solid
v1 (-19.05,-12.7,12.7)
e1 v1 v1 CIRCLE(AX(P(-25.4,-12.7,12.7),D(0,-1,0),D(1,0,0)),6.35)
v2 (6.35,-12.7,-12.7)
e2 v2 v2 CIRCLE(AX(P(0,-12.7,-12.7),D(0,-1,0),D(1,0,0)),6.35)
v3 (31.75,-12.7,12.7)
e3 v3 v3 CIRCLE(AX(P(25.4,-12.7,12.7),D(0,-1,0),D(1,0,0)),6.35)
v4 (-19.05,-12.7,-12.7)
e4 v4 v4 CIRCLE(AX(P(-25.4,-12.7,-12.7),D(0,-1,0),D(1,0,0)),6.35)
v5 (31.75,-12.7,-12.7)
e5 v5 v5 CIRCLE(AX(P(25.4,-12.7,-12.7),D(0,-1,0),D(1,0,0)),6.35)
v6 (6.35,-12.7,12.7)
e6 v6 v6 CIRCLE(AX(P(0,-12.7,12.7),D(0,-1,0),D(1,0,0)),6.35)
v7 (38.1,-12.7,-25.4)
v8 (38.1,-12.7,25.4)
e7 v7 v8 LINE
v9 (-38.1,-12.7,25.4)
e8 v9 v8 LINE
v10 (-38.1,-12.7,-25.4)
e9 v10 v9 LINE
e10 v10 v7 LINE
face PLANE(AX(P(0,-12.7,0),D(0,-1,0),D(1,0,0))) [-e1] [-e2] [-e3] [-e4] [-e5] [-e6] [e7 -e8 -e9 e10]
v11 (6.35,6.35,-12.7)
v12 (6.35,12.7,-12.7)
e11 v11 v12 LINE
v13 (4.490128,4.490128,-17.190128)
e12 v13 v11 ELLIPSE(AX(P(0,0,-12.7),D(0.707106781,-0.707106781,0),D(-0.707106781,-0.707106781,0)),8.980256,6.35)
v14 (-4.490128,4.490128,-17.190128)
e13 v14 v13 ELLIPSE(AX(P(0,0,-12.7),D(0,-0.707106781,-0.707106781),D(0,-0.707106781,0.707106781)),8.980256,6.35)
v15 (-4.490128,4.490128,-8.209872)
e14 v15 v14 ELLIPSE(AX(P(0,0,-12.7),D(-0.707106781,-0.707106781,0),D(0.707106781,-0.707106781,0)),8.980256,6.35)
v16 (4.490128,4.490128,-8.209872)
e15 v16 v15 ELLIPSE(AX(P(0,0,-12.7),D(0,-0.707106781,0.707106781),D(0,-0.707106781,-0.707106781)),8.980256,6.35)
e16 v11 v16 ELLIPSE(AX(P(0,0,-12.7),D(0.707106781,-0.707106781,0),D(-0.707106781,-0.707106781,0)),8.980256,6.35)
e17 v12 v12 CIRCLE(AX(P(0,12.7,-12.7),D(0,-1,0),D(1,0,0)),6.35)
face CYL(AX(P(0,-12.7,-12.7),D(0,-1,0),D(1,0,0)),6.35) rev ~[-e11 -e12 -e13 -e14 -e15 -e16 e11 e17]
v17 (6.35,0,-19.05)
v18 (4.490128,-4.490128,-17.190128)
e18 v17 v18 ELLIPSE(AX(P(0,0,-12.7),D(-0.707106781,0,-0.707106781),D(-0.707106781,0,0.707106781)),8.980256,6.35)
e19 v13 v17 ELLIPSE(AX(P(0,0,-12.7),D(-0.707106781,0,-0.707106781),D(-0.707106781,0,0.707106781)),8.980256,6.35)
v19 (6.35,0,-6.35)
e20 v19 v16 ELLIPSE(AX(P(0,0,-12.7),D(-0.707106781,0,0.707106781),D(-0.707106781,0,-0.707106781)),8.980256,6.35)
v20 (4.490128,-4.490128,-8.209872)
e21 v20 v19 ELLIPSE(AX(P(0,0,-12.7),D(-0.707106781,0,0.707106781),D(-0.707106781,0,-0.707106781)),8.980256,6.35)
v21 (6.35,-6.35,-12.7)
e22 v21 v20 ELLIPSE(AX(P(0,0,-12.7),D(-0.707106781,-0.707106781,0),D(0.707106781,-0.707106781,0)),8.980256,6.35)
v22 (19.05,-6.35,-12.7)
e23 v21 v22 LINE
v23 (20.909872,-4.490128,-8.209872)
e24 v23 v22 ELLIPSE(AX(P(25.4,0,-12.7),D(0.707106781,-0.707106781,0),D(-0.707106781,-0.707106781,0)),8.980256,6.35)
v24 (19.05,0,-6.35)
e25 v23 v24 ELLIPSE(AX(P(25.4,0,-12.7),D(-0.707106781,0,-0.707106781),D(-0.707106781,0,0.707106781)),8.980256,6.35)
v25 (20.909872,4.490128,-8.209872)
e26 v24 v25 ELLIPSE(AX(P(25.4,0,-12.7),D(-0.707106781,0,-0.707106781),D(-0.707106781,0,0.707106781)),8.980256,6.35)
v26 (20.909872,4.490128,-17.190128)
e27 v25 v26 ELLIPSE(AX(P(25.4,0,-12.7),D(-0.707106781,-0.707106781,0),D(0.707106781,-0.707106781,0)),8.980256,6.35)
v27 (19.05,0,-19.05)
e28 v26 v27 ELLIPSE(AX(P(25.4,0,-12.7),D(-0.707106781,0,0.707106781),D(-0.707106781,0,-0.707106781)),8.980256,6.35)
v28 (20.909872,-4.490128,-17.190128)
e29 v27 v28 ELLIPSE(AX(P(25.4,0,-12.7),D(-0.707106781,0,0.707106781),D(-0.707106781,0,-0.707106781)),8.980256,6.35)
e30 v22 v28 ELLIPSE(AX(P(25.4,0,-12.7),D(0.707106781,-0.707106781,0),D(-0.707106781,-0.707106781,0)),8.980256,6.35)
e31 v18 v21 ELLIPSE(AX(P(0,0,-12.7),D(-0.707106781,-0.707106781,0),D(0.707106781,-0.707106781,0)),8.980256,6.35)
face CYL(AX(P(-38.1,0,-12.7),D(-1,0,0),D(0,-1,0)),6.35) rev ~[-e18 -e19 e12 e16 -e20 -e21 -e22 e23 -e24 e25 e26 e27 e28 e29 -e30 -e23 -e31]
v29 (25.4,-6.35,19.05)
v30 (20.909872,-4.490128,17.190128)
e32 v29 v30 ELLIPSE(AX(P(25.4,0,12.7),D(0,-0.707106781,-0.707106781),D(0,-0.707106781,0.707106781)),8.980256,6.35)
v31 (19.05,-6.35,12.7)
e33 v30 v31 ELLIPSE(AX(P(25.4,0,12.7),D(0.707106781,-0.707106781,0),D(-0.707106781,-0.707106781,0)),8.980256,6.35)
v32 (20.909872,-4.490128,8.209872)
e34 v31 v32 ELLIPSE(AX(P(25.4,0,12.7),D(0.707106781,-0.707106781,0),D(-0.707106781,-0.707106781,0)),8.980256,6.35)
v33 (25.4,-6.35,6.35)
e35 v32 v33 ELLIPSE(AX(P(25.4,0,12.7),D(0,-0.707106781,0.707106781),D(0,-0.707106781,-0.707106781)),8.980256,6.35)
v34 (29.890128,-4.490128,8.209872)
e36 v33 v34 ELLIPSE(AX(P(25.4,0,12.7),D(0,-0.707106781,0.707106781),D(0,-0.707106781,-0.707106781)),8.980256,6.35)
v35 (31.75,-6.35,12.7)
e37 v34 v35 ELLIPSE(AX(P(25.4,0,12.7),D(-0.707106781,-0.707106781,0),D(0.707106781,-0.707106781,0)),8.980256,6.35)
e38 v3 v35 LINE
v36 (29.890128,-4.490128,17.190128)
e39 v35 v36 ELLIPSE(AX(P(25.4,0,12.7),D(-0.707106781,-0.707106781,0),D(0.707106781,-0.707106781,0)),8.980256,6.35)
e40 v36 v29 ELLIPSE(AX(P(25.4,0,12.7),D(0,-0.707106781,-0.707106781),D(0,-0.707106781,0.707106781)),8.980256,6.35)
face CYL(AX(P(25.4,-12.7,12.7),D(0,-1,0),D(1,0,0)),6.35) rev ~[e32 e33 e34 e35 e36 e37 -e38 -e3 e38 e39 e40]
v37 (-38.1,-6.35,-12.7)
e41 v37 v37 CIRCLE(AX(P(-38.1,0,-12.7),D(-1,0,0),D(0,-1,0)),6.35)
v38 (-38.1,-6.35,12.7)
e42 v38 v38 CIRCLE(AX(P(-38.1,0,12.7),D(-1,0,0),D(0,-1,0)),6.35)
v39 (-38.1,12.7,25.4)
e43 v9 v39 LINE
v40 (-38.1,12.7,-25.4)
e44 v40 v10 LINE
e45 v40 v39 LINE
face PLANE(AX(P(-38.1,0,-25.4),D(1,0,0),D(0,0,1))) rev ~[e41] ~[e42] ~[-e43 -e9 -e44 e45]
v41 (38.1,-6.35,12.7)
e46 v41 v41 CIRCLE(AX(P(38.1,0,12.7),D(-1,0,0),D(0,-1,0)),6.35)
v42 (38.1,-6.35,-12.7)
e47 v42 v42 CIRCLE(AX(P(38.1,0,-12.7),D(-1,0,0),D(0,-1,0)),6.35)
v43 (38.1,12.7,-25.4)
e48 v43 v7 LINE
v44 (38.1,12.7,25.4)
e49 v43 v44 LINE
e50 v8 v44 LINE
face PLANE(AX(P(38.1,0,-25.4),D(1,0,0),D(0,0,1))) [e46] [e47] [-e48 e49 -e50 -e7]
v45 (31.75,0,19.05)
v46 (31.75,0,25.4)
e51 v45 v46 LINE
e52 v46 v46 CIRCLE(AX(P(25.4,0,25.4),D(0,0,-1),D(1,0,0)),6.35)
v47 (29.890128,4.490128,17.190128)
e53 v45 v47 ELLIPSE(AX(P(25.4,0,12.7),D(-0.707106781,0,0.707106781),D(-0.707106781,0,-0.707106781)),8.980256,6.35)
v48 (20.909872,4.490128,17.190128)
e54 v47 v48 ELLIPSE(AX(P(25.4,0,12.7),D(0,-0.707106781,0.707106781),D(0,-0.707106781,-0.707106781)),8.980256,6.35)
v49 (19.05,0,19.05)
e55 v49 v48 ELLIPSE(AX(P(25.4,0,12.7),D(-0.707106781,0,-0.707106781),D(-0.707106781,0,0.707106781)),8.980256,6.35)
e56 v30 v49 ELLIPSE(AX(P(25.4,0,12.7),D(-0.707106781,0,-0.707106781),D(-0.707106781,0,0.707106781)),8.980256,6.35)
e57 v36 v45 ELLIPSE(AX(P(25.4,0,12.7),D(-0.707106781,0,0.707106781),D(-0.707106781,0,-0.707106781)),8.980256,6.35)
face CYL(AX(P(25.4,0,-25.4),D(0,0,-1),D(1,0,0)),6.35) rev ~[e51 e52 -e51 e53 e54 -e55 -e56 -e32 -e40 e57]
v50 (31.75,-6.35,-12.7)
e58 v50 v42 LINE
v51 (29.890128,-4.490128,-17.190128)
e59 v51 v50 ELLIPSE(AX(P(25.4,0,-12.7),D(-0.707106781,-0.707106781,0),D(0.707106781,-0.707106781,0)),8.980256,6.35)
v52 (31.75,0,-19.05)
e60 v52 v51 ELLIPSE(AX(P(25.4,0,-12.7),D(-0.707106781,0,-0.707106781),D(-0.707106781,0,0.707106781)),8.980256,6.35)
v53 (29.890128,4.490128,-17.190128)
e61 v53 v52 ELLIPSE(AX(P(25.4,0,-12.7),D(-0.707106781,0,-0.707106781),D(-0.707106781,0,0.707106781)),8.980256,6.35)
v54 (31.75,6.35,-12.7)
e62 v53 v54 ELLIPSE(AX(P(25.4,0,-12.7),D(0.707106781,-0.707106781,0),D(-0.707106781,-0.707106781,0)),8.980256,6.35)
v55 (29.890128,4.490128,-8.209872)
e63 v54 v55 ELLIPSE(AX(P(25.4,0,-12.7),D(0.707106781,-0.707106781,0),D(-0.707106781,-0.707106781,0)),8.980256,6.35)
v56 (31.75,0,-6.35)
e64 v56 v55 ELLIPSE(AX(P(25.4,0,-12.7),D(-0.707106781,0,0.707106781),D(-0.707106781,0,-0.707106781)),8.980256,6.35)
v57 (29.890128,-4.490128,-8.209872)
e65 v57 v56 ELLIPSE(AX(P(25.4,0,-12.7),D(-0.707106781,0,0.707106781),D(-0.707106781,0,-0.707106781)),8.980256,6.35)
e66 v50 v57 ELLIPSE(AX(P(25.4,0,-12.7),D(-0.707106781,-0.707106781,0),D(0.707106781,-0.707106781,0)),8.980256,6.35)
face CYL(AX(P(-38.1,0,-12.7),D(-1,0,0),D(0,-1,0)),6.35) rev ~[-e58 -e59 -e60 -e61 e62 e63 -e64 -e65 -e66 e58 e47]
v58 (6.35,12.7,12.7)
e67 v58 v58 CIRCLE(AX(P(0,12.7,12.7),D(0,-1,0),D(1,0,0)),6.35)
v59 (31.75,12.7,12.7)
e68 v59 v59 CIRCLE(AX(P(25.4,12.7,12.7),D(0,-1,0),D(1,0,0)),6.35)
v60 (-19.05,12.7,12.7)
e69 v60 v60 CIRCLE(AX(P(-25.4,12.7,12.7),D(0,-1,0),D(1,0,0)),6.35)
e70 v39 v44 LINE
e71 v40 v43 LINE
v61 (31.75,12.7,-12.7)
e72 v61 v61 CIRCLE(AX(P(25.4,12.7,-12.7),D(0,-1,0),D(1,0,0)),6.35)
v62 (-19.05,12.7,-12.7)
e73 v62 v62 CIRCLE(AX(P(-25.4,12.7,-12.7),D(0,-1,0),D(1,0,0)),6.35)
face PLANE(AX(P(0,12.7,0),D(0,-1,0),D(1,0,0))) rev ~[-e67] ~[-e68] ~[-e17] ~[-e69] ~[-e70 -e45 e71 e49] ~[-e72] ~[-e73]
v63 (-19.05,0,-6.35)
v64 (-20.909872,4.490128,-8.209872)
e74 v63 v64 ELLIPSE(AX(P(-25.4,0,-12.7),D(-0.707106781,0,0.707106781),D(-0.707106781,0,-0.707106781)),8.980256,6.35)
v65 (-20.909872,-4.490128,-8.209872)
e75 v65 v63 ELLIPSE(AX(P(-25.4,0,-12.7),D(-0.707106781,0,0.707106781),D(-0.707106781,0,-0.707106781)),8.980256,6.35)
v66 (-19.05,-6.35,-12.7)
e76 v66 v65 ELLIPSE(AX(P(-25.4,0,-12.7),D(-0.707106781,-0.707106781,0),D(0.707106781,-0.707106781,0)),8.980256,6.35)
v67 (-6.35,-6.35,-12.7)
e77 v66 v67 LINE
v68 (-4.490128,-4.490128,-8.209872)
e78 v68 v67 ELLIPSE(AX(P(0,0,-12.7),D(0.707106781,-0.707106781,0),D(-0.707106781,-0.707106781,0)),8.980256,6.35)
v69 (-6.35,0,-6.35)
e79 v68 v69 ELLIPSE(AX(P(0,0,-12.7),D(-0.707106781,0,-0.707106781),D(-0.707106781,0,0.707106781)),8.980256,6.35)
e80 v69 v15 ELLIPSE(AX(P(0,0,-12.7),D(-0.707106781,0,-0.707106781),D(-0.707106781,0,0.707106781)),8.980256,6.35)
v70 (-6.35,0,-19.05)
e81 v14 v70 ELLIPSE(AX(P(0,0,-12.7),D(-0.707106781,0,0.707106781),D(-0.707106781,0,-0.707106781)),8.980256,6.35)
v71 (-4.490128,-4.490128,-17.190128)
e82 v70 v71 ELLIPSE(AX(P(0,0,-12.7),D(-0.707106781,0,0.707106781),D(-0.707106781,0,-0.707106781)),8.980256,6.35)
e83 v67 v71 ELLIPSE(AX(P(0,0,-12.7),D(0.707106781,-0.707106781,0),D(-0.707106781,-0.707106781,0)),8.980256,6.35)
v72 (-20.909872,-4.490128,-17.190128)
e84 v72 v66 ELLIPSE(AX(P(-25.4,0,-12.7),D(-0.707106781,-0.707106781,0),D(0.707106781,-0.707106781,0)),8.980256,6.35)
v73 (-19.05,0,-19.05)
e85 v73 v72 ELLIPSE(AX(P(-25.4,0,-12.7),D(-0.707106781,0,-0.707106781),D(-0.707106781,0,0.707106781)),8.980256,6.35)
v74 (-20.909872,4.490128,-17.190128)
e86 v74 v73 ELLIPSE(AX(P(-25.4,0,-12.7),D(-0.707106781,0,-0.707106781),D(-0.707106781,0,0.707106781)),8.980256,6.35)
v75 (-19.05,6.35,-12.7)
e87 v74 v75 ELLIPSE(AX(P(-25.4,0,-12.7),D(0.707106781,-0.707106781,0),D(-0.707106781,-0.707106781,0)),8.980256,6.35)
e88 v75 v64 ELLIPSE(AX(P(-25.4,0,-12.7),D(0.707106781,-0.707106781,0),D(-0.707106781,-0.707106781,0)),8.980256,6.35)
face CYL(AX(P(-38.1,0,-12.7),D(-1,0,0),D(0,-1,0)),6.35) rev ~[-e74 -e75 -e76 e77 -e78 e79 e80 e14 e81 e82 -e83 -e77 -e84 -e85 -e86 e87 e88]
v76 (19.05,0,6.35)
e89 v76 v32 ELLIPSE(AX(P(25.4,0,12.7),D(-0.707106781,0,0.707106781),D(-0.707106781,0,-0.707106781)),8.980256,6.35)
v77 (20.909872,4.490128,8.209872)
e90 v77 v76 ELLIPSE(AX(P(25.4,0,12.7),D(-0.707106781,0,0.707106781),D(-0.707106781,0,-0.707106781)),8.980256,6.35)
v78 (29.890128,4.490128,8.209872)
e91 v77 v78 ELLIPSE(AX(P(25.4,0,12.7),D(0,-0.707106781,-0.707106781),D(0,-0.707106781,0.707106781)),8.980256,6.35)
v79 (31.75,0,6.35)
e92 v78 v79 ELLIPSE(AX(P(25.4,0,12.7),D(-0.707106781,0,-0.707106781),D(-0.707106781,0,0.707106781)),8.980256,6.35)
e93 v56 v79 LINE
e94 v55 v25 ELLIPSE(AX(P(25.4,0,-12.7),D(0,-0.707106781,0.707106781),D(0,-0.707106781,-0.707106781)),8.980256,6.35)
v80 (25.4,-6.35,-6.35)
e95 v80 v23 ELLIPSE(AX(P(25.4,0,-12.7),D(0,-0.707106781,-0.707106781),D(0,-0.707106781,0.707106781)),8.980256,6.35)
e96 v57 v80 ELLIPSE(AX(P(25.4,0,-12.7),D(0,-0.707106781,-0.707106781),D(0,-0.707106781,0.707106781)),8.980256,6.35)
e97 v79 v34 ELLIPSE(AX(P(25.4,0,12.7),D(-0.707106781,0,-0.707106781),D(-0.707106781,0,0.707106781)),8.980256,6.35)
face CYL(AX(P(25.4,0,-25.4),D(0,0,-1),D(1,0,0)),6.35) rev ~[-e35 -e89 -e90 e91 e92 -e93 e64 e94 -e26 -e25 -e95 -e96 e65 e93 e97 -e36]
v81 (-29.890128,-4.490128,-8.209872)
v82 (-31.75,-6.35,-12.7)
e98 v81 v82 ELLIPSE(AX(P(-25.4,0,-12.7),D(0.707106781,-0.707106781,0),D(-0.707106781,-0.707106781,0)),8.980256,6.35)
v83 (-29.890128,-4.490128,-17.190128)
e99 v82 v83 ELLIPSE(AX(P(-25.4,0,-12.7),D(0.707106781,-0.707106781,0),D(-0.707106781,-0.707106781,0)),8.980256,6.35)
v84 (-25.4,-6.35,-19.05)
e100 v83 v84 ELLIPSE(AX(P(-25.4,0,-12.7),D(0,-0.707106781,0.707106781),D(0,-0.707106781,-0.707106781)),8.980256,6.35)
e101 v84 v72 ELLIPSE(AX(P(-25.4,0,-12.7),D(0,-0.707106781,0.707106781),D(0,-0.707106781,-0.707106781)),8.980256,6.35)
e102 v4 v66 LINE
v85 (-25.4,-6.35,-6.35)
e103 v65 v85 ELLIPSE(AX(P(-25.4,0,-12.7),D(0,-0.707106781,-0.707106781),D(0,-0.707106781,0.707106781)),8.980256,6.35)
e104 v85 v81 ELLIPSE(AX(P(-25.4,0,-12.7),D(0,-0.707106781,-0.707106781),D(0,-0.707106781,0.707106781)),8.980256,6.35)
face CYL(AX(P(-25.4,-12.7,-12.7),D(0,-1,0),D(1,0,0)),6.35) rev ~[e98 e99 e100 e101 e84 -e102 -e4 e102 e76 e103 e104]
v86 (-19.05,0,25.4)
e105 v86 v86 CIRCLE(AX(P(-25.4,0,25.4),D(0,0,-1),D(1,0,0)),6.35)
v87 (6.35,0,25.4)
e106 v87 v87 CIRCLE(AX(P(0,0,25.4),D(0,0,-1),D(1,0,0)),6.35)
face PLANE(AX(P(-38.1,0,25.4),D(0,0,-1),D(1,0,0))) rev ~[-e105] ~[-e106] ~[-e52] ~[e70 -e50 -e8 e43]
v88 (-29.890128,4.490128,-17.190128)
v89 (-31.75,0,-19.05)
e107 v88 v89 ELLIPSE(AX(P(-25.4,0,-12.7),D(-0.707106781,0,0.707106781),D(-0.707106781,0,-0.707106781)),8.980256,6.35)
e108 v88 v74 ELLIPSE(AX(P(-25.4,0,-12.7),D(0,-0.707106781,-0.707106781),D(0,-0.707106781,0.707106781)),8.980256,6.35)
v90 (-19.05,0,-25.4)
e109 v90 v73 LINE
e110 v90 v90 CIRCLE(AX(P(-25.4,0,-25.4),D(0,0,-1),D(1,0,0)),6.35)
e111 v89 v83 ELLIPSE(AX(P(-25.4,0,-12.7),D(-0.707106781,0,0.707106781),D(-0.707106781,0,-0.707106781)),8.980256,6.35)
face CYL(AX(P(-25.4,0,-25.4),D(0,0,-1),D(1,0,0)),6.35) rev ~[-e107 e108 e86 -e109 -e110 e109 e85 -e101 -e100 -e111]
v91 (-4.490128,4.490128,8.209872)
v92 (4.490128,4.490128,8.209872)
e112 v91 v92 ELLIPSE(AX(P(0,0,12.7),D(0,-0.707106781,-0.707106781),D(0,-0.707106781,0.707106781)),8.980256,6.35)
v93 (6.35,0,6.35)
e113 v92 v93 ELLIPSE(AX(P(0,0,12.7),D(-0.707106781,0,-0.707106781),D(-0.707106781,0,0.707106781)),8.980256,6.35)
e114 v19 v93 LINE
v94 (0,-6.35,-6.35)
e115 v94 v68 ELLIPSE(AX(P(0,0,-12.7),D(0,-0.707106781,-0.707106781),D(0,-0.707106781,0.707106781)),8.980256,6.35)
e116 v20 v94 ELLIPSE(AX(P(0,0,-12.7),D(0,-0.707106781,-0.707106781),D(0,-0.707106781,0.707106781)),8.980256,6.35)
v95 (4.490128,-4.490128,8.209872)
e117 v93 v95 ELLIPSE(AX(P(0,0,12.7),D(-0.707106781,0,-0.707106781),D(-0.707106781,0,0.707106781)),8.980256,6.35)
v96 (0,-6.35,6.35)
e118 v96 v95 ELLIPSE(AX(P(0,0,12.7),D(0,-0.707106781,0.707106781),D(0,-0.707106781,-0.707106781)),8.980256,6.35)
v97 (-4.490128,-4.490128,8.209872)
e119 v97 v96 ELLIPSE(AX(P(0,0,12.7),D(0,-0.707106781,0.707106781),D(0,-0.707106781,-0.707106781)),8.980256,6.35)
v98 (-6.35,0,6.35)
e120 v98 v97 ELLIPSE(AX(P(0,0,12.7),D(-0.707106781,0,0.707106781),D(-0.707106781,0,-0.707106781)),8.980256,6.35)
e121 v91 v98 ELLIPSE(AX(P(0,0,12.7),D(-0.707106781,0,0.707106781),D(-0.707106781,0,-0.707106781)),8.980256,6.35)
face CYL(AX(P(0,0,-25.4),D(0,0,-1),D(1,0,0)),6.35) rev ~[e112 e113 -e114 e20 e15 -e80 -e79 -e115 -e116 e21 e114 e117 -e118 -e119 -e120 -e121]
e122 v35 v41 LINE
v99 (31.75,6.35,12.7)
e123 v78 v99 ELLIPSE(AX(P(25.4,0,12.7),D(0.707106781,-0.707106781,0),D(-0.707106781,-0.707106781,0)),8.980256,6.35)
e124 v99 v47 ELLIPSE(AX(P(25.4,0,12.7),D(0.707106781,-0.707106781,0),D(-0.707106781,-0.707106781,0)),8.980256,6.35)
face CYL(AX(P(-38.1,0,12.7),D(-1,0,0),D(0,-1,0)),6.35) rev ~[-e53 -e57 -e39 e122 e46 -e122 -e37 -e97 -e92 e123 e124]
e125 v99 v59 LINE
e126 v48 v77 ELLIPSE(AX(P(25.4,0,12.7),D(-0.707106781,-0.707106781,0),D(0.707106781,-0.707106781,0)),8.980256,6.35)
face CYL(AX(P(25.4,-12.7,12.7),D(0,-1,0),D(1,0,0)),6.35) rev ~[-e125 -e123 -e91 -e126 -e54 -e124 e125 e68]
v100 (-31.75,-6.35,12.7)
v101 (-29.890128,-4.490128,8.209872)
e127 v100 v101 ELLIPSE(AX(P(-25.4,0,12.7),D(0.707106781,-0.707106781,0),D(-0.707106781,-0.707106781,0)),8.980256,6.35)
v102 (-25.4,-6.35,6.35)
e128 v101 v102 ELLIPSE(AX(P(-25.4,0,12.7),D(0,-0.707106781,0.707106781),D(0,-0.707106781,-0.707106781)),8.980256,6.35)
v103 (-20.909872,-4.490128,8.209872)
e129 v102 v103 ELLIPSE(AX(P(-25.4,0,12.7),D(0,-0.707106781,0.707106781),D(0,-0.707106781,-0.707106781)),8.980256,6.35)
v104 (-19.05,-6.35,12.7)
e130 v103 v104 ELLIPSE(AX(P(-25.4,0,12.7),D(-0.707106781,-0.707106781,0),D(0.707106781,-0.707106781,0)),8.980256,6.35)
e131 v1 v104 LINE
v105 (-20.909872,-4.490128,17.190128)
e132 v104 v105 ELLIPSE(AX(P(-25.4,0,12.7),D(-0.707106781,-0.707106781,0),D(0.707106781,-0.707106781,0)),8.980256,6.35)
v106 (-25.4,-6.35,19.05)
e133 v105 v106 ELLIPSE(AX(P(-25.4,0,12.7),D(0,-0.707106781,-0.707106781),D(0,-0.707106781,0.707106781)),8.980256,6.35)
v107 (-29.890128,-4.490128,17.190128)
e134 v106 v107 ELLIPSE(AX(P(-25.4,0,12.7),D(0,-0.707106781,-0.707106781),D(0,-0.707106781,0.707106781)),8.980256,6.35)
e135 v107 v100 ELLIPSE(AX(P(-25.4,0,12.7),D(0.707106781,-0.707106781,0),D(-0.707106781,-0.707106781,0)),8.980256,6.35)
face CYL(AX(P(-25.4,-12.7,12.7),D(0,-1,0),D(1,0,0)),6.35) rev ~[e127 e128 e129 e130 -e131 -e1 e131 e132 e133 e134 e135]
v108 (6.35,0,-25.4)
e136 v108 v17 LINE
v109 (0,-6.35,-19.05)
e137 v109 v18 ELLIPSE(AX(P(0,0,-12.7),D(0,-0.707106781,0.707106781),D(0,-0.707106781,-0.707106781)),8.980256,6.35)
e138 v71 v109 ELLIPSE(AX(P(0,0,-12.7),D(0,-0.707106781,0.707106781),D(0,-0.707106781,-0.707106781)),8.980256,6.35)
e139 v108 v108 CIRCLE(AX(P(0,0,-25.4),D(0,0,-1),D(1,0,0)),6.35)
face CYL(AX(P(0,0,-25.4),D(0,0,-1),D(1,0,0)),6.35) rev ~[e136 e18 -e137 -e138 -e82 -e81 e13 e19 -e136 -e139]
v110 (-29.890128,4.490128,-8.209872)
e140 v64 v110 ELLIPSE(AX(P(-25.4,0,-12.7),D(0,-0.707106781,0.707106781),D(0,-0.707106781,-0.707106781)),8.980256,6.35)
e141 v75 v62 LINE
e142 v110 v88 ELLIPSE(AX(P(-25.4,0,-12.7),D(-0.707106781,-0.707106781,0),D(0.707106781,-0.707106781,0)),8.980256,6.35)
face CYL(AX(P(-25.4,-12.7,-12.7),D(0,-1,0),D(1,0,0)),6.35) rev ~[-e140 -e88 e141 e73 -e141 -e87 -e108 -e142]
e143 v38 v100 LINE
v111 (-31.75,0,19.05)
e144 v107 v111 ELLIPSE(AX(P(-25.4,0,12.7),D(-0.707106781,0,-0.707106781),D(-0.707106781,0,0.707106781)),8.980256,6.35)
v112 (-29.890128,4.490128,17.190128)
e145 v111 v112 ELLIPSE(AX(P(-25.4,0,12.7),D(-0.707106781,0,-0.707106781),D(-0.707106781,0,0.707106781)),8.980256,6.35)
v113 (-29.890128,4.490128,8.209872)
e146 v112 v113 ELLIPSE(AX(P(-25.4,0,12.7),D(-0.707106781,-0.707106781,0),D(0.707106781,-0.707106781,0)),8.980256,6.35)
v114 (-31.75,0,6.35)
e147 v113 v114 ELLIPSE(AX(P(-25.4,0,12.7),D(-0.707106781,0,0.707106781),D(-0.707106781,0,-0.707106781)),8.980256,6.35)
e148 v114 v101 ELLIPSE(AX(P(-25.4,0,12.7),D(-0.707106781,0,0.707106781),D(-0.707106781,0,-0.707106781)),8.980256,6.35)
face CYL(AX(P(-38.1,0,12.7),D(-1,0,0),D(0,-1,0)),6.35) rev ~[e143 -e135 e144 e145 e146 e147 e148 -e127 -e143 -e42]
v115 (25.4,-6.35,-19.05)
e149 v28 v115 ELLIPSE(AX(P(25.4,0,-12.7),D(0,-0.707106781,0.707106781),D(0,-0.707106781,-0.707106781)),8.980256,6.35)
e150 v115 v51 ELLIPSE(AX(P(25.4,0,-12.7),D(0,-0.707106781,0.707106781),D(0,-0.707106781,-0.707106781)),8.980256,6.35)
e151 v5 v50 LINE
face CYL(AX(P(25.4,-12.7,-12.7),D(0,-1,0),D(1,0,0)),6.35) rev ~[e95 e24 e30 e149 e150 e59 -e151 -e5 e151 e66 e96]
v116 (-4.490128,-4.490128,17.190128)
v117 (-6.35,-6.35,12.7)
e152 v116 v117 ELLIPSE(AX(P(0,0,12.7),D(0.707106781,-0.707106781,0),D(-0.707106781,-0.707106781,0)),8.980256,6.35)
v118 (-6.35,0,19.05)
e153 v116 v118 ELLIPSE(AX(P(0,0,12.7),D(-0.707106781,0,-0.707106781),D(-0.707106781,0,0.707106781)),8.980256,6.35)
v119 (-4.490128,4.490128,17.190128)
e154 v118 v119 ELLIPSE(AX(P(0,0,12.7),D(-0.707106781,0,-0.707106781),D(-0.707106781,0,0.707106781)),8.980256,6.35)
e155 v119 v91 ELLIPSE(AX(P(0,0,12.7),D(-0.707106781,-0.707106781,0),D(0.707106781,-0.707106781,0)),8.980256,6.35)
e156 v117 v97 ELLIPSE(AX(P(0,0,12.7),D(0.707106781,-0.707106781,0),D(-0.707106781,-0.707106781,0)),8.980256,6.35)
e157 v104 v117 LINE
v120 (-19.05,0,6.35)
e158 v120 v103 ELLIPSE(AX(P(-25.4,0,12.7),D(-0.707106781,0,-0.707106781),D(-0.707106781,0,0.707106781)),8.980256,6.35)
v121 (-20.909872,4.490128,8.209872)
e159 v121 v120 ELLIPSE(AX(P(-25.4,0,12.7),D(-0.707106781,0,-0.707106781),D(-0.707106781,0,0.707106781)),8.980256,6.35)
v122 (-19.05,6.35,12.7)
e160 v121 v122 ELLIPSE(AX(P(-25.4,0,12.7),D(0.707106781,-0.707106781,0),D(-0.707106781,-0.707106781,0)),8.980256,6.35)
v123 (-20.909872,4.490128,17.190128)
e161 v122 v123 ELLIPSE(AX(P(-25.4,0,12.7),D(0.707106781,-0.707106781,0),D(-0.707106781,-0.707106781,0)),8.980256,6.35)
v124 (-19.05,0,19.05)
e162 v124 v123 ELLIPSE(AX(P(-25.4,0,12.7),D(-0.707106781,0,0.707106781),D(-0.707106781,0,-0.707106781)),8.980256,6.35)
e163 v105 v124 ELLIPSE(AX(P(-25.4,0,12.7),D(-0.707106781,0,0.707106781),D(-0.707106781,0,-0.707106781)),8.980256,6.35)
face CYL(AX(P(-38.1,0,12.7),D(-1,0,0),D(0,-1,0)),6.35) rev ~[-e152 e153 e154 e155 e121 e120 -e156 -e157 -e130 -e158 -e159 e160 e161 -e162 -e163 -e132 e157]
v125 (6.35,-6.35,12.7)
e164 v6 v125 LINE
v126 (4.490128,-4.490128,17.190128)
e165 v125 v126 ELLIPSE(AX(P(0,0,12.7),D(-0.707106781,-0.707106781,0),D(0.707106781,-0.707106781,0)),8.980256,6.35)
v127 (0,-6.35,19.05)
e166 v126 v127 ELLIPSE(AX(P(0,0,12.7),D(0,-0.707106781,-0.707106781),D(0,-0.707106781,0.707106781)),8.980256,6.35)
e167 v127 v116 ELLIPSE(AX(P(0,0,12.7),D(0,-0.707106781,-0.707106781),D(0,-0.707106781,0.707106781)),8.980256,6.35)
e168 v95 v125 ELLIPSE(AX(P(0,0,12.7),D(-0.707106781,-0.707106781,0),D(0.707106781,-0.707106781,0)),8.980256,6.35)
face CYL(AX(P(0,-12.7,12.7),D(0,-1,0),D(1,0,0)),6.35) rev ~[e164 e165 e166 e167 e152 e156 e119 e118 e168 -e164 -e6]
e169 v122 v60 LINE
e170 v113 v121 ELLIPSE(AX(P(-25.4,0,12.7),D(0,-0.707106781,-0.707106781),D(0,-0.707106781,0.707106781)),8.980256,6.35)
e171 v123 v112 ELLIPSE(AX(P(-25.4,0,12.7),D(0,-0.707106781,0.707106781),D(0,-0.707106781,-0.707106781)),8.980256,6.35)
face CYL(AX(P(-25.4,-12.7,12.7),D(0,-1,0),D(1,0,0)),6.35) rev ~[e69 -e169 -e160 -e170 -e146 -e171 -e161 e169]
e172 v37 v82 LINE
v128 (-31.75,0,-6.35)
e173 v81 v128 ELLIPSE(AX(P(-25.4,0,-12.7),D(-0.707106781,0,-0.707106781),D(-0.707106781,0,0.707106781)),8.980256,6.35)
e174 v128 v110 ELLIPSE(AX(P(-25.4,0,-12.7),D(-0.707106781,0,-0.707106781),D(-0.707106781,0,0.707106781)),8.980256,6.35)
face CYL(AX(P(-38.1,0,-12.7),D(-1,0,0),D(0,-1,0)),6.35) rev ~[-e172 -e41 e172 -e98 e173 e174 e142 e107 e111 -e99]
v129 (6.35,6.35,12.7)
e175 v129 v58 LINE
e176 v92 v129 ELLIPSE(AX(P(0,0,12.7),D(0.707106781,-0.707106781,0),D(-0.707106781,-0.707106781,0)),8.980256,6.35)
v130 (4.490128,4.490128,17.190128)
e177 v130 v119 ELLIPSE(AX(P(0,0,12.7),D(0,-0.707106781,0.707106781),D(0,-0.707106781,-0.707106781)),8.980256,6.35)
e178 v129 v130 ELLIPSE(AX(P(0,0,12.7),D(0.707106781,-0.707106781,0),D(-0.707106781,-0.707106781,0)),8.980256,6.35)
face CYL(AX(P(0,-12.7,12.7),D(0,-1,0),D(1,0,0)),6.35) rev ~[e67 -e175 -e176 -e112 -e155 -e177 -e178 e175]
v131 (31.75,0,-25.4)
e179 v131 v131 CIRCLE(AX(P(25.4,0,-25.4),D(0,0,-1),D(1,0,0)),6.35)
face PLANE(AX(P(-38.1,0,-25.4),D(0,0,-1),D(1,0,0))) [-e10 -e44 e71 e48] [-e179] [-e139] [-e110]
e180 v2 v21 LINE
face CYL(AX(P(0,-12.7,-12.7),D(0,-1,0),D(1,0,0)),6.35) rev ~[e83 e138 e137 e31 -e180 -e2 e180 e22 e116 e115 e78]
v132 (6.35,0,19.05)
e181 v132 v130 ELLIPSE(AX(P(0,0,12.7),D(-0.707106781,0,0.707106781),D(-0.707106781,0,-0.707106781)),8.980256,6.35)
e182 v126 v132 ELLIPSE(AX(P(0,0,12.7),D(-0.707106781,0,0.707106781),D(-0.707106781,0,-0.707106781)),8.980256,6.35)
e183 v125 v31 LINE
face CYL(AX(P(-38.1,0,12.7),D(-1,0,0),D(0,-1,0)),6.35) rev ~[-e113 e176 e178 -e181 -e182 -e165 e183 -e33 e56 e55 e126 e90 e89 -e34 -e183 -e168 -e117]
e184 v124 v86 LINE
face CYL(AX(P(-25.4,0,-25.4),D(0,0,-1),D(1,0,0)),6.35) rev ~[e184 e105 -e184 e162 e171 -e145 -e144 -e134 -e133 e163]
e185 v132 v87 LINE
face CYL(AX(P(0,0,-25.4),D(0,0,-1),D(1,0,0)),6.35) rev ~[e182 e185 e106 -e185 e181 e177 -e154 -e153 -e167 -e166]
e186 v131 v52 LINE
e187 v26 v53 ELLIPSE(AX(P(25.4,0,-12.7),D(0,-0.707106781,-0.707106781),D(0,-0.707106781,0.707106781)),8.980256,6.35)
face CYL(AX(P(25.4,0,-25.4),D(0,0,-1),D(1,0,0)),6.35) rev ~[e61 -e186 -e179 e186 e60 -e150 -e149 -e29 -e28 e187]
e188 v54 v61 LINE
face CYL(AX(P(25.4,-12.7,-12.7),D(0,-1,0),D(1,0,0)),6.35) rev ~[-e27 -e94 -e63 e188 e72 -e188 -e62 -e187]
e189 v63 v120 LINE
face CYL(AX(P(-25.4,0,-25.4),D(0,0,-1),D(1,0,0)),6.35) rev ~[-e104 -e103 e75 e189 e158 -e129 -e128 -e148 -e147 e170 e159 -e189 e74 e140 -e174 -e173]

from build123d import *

# Parameters (mm, degrees)
F0_W     = 76.2
F0_H     = 50.8
F1_DEPTH = 12.7
F2_R     = 6.35
F3_DEPTH = 25.4
F4_R     = 6.35
F5_DEPTH = 76.2
F6_R     = 6.35
F7_DEPTH = 50.8


with BuildPart() as f1:
    # F0 (on Front) → F1 (new body, symmetric)
    with BuildSketch(Plane.XZ):
        Rectangle(F0_W, F0_H)
    extrude(amount=F1_DEPTH, both=True)

    # F2 (on face) → F3 (cut, through all)
    with BuildSketch(Plane.XZ.offset(12.7)):
        with Locations((-25.4, 12.7)):
            Circle(F2_R)
        with Locations((0, 12.7)):
            Circle(F2_R)
        with Locations((25.4, 12.7)):
            Circle(F2_R)
        with Locations((-25.4, -12.7)):
            Circle(F2_R)
        with Locations((0, -12.7)):
            Circle(F2_R)
        with Locations((25.4, -12.7)):
            Circle(F2_R)
    extrude(amount=-F3_DEPTH, mode=Mode.SUBTRACT)

    # F4 (on face) → F5 (cut, through all)
    with BuildSketch(Plane(origin=(-38.1, 0, 0), x_dir=(0, -1, 0), z_dir=(-1, 0, 0))):
        with Locations((0, 12.7)):
            Circle(F4_R)
        with Locations((0, -12.7)):
            Circle(F4_R)
    extrude(amount=-F5_DEPTH, mode=Mode.SUBTRACT)

    # F6 (on face) → F7 (cut, through all)
    with BuildSketch(Plane(origin=(0, 0, -25.4), x_dir=(1, 0, 0), z_dir=(0, 0, -1))):
        with Locations((-25.4, 0)):
            Circle(F6_R)
        Circle(F6_R)
        with Locations((25.4, 0)):
            Circle(F6_R)
    extrude(amount=-F7_DEPTH, mode=Mode.SUBTRACT)


solid = f1.part
